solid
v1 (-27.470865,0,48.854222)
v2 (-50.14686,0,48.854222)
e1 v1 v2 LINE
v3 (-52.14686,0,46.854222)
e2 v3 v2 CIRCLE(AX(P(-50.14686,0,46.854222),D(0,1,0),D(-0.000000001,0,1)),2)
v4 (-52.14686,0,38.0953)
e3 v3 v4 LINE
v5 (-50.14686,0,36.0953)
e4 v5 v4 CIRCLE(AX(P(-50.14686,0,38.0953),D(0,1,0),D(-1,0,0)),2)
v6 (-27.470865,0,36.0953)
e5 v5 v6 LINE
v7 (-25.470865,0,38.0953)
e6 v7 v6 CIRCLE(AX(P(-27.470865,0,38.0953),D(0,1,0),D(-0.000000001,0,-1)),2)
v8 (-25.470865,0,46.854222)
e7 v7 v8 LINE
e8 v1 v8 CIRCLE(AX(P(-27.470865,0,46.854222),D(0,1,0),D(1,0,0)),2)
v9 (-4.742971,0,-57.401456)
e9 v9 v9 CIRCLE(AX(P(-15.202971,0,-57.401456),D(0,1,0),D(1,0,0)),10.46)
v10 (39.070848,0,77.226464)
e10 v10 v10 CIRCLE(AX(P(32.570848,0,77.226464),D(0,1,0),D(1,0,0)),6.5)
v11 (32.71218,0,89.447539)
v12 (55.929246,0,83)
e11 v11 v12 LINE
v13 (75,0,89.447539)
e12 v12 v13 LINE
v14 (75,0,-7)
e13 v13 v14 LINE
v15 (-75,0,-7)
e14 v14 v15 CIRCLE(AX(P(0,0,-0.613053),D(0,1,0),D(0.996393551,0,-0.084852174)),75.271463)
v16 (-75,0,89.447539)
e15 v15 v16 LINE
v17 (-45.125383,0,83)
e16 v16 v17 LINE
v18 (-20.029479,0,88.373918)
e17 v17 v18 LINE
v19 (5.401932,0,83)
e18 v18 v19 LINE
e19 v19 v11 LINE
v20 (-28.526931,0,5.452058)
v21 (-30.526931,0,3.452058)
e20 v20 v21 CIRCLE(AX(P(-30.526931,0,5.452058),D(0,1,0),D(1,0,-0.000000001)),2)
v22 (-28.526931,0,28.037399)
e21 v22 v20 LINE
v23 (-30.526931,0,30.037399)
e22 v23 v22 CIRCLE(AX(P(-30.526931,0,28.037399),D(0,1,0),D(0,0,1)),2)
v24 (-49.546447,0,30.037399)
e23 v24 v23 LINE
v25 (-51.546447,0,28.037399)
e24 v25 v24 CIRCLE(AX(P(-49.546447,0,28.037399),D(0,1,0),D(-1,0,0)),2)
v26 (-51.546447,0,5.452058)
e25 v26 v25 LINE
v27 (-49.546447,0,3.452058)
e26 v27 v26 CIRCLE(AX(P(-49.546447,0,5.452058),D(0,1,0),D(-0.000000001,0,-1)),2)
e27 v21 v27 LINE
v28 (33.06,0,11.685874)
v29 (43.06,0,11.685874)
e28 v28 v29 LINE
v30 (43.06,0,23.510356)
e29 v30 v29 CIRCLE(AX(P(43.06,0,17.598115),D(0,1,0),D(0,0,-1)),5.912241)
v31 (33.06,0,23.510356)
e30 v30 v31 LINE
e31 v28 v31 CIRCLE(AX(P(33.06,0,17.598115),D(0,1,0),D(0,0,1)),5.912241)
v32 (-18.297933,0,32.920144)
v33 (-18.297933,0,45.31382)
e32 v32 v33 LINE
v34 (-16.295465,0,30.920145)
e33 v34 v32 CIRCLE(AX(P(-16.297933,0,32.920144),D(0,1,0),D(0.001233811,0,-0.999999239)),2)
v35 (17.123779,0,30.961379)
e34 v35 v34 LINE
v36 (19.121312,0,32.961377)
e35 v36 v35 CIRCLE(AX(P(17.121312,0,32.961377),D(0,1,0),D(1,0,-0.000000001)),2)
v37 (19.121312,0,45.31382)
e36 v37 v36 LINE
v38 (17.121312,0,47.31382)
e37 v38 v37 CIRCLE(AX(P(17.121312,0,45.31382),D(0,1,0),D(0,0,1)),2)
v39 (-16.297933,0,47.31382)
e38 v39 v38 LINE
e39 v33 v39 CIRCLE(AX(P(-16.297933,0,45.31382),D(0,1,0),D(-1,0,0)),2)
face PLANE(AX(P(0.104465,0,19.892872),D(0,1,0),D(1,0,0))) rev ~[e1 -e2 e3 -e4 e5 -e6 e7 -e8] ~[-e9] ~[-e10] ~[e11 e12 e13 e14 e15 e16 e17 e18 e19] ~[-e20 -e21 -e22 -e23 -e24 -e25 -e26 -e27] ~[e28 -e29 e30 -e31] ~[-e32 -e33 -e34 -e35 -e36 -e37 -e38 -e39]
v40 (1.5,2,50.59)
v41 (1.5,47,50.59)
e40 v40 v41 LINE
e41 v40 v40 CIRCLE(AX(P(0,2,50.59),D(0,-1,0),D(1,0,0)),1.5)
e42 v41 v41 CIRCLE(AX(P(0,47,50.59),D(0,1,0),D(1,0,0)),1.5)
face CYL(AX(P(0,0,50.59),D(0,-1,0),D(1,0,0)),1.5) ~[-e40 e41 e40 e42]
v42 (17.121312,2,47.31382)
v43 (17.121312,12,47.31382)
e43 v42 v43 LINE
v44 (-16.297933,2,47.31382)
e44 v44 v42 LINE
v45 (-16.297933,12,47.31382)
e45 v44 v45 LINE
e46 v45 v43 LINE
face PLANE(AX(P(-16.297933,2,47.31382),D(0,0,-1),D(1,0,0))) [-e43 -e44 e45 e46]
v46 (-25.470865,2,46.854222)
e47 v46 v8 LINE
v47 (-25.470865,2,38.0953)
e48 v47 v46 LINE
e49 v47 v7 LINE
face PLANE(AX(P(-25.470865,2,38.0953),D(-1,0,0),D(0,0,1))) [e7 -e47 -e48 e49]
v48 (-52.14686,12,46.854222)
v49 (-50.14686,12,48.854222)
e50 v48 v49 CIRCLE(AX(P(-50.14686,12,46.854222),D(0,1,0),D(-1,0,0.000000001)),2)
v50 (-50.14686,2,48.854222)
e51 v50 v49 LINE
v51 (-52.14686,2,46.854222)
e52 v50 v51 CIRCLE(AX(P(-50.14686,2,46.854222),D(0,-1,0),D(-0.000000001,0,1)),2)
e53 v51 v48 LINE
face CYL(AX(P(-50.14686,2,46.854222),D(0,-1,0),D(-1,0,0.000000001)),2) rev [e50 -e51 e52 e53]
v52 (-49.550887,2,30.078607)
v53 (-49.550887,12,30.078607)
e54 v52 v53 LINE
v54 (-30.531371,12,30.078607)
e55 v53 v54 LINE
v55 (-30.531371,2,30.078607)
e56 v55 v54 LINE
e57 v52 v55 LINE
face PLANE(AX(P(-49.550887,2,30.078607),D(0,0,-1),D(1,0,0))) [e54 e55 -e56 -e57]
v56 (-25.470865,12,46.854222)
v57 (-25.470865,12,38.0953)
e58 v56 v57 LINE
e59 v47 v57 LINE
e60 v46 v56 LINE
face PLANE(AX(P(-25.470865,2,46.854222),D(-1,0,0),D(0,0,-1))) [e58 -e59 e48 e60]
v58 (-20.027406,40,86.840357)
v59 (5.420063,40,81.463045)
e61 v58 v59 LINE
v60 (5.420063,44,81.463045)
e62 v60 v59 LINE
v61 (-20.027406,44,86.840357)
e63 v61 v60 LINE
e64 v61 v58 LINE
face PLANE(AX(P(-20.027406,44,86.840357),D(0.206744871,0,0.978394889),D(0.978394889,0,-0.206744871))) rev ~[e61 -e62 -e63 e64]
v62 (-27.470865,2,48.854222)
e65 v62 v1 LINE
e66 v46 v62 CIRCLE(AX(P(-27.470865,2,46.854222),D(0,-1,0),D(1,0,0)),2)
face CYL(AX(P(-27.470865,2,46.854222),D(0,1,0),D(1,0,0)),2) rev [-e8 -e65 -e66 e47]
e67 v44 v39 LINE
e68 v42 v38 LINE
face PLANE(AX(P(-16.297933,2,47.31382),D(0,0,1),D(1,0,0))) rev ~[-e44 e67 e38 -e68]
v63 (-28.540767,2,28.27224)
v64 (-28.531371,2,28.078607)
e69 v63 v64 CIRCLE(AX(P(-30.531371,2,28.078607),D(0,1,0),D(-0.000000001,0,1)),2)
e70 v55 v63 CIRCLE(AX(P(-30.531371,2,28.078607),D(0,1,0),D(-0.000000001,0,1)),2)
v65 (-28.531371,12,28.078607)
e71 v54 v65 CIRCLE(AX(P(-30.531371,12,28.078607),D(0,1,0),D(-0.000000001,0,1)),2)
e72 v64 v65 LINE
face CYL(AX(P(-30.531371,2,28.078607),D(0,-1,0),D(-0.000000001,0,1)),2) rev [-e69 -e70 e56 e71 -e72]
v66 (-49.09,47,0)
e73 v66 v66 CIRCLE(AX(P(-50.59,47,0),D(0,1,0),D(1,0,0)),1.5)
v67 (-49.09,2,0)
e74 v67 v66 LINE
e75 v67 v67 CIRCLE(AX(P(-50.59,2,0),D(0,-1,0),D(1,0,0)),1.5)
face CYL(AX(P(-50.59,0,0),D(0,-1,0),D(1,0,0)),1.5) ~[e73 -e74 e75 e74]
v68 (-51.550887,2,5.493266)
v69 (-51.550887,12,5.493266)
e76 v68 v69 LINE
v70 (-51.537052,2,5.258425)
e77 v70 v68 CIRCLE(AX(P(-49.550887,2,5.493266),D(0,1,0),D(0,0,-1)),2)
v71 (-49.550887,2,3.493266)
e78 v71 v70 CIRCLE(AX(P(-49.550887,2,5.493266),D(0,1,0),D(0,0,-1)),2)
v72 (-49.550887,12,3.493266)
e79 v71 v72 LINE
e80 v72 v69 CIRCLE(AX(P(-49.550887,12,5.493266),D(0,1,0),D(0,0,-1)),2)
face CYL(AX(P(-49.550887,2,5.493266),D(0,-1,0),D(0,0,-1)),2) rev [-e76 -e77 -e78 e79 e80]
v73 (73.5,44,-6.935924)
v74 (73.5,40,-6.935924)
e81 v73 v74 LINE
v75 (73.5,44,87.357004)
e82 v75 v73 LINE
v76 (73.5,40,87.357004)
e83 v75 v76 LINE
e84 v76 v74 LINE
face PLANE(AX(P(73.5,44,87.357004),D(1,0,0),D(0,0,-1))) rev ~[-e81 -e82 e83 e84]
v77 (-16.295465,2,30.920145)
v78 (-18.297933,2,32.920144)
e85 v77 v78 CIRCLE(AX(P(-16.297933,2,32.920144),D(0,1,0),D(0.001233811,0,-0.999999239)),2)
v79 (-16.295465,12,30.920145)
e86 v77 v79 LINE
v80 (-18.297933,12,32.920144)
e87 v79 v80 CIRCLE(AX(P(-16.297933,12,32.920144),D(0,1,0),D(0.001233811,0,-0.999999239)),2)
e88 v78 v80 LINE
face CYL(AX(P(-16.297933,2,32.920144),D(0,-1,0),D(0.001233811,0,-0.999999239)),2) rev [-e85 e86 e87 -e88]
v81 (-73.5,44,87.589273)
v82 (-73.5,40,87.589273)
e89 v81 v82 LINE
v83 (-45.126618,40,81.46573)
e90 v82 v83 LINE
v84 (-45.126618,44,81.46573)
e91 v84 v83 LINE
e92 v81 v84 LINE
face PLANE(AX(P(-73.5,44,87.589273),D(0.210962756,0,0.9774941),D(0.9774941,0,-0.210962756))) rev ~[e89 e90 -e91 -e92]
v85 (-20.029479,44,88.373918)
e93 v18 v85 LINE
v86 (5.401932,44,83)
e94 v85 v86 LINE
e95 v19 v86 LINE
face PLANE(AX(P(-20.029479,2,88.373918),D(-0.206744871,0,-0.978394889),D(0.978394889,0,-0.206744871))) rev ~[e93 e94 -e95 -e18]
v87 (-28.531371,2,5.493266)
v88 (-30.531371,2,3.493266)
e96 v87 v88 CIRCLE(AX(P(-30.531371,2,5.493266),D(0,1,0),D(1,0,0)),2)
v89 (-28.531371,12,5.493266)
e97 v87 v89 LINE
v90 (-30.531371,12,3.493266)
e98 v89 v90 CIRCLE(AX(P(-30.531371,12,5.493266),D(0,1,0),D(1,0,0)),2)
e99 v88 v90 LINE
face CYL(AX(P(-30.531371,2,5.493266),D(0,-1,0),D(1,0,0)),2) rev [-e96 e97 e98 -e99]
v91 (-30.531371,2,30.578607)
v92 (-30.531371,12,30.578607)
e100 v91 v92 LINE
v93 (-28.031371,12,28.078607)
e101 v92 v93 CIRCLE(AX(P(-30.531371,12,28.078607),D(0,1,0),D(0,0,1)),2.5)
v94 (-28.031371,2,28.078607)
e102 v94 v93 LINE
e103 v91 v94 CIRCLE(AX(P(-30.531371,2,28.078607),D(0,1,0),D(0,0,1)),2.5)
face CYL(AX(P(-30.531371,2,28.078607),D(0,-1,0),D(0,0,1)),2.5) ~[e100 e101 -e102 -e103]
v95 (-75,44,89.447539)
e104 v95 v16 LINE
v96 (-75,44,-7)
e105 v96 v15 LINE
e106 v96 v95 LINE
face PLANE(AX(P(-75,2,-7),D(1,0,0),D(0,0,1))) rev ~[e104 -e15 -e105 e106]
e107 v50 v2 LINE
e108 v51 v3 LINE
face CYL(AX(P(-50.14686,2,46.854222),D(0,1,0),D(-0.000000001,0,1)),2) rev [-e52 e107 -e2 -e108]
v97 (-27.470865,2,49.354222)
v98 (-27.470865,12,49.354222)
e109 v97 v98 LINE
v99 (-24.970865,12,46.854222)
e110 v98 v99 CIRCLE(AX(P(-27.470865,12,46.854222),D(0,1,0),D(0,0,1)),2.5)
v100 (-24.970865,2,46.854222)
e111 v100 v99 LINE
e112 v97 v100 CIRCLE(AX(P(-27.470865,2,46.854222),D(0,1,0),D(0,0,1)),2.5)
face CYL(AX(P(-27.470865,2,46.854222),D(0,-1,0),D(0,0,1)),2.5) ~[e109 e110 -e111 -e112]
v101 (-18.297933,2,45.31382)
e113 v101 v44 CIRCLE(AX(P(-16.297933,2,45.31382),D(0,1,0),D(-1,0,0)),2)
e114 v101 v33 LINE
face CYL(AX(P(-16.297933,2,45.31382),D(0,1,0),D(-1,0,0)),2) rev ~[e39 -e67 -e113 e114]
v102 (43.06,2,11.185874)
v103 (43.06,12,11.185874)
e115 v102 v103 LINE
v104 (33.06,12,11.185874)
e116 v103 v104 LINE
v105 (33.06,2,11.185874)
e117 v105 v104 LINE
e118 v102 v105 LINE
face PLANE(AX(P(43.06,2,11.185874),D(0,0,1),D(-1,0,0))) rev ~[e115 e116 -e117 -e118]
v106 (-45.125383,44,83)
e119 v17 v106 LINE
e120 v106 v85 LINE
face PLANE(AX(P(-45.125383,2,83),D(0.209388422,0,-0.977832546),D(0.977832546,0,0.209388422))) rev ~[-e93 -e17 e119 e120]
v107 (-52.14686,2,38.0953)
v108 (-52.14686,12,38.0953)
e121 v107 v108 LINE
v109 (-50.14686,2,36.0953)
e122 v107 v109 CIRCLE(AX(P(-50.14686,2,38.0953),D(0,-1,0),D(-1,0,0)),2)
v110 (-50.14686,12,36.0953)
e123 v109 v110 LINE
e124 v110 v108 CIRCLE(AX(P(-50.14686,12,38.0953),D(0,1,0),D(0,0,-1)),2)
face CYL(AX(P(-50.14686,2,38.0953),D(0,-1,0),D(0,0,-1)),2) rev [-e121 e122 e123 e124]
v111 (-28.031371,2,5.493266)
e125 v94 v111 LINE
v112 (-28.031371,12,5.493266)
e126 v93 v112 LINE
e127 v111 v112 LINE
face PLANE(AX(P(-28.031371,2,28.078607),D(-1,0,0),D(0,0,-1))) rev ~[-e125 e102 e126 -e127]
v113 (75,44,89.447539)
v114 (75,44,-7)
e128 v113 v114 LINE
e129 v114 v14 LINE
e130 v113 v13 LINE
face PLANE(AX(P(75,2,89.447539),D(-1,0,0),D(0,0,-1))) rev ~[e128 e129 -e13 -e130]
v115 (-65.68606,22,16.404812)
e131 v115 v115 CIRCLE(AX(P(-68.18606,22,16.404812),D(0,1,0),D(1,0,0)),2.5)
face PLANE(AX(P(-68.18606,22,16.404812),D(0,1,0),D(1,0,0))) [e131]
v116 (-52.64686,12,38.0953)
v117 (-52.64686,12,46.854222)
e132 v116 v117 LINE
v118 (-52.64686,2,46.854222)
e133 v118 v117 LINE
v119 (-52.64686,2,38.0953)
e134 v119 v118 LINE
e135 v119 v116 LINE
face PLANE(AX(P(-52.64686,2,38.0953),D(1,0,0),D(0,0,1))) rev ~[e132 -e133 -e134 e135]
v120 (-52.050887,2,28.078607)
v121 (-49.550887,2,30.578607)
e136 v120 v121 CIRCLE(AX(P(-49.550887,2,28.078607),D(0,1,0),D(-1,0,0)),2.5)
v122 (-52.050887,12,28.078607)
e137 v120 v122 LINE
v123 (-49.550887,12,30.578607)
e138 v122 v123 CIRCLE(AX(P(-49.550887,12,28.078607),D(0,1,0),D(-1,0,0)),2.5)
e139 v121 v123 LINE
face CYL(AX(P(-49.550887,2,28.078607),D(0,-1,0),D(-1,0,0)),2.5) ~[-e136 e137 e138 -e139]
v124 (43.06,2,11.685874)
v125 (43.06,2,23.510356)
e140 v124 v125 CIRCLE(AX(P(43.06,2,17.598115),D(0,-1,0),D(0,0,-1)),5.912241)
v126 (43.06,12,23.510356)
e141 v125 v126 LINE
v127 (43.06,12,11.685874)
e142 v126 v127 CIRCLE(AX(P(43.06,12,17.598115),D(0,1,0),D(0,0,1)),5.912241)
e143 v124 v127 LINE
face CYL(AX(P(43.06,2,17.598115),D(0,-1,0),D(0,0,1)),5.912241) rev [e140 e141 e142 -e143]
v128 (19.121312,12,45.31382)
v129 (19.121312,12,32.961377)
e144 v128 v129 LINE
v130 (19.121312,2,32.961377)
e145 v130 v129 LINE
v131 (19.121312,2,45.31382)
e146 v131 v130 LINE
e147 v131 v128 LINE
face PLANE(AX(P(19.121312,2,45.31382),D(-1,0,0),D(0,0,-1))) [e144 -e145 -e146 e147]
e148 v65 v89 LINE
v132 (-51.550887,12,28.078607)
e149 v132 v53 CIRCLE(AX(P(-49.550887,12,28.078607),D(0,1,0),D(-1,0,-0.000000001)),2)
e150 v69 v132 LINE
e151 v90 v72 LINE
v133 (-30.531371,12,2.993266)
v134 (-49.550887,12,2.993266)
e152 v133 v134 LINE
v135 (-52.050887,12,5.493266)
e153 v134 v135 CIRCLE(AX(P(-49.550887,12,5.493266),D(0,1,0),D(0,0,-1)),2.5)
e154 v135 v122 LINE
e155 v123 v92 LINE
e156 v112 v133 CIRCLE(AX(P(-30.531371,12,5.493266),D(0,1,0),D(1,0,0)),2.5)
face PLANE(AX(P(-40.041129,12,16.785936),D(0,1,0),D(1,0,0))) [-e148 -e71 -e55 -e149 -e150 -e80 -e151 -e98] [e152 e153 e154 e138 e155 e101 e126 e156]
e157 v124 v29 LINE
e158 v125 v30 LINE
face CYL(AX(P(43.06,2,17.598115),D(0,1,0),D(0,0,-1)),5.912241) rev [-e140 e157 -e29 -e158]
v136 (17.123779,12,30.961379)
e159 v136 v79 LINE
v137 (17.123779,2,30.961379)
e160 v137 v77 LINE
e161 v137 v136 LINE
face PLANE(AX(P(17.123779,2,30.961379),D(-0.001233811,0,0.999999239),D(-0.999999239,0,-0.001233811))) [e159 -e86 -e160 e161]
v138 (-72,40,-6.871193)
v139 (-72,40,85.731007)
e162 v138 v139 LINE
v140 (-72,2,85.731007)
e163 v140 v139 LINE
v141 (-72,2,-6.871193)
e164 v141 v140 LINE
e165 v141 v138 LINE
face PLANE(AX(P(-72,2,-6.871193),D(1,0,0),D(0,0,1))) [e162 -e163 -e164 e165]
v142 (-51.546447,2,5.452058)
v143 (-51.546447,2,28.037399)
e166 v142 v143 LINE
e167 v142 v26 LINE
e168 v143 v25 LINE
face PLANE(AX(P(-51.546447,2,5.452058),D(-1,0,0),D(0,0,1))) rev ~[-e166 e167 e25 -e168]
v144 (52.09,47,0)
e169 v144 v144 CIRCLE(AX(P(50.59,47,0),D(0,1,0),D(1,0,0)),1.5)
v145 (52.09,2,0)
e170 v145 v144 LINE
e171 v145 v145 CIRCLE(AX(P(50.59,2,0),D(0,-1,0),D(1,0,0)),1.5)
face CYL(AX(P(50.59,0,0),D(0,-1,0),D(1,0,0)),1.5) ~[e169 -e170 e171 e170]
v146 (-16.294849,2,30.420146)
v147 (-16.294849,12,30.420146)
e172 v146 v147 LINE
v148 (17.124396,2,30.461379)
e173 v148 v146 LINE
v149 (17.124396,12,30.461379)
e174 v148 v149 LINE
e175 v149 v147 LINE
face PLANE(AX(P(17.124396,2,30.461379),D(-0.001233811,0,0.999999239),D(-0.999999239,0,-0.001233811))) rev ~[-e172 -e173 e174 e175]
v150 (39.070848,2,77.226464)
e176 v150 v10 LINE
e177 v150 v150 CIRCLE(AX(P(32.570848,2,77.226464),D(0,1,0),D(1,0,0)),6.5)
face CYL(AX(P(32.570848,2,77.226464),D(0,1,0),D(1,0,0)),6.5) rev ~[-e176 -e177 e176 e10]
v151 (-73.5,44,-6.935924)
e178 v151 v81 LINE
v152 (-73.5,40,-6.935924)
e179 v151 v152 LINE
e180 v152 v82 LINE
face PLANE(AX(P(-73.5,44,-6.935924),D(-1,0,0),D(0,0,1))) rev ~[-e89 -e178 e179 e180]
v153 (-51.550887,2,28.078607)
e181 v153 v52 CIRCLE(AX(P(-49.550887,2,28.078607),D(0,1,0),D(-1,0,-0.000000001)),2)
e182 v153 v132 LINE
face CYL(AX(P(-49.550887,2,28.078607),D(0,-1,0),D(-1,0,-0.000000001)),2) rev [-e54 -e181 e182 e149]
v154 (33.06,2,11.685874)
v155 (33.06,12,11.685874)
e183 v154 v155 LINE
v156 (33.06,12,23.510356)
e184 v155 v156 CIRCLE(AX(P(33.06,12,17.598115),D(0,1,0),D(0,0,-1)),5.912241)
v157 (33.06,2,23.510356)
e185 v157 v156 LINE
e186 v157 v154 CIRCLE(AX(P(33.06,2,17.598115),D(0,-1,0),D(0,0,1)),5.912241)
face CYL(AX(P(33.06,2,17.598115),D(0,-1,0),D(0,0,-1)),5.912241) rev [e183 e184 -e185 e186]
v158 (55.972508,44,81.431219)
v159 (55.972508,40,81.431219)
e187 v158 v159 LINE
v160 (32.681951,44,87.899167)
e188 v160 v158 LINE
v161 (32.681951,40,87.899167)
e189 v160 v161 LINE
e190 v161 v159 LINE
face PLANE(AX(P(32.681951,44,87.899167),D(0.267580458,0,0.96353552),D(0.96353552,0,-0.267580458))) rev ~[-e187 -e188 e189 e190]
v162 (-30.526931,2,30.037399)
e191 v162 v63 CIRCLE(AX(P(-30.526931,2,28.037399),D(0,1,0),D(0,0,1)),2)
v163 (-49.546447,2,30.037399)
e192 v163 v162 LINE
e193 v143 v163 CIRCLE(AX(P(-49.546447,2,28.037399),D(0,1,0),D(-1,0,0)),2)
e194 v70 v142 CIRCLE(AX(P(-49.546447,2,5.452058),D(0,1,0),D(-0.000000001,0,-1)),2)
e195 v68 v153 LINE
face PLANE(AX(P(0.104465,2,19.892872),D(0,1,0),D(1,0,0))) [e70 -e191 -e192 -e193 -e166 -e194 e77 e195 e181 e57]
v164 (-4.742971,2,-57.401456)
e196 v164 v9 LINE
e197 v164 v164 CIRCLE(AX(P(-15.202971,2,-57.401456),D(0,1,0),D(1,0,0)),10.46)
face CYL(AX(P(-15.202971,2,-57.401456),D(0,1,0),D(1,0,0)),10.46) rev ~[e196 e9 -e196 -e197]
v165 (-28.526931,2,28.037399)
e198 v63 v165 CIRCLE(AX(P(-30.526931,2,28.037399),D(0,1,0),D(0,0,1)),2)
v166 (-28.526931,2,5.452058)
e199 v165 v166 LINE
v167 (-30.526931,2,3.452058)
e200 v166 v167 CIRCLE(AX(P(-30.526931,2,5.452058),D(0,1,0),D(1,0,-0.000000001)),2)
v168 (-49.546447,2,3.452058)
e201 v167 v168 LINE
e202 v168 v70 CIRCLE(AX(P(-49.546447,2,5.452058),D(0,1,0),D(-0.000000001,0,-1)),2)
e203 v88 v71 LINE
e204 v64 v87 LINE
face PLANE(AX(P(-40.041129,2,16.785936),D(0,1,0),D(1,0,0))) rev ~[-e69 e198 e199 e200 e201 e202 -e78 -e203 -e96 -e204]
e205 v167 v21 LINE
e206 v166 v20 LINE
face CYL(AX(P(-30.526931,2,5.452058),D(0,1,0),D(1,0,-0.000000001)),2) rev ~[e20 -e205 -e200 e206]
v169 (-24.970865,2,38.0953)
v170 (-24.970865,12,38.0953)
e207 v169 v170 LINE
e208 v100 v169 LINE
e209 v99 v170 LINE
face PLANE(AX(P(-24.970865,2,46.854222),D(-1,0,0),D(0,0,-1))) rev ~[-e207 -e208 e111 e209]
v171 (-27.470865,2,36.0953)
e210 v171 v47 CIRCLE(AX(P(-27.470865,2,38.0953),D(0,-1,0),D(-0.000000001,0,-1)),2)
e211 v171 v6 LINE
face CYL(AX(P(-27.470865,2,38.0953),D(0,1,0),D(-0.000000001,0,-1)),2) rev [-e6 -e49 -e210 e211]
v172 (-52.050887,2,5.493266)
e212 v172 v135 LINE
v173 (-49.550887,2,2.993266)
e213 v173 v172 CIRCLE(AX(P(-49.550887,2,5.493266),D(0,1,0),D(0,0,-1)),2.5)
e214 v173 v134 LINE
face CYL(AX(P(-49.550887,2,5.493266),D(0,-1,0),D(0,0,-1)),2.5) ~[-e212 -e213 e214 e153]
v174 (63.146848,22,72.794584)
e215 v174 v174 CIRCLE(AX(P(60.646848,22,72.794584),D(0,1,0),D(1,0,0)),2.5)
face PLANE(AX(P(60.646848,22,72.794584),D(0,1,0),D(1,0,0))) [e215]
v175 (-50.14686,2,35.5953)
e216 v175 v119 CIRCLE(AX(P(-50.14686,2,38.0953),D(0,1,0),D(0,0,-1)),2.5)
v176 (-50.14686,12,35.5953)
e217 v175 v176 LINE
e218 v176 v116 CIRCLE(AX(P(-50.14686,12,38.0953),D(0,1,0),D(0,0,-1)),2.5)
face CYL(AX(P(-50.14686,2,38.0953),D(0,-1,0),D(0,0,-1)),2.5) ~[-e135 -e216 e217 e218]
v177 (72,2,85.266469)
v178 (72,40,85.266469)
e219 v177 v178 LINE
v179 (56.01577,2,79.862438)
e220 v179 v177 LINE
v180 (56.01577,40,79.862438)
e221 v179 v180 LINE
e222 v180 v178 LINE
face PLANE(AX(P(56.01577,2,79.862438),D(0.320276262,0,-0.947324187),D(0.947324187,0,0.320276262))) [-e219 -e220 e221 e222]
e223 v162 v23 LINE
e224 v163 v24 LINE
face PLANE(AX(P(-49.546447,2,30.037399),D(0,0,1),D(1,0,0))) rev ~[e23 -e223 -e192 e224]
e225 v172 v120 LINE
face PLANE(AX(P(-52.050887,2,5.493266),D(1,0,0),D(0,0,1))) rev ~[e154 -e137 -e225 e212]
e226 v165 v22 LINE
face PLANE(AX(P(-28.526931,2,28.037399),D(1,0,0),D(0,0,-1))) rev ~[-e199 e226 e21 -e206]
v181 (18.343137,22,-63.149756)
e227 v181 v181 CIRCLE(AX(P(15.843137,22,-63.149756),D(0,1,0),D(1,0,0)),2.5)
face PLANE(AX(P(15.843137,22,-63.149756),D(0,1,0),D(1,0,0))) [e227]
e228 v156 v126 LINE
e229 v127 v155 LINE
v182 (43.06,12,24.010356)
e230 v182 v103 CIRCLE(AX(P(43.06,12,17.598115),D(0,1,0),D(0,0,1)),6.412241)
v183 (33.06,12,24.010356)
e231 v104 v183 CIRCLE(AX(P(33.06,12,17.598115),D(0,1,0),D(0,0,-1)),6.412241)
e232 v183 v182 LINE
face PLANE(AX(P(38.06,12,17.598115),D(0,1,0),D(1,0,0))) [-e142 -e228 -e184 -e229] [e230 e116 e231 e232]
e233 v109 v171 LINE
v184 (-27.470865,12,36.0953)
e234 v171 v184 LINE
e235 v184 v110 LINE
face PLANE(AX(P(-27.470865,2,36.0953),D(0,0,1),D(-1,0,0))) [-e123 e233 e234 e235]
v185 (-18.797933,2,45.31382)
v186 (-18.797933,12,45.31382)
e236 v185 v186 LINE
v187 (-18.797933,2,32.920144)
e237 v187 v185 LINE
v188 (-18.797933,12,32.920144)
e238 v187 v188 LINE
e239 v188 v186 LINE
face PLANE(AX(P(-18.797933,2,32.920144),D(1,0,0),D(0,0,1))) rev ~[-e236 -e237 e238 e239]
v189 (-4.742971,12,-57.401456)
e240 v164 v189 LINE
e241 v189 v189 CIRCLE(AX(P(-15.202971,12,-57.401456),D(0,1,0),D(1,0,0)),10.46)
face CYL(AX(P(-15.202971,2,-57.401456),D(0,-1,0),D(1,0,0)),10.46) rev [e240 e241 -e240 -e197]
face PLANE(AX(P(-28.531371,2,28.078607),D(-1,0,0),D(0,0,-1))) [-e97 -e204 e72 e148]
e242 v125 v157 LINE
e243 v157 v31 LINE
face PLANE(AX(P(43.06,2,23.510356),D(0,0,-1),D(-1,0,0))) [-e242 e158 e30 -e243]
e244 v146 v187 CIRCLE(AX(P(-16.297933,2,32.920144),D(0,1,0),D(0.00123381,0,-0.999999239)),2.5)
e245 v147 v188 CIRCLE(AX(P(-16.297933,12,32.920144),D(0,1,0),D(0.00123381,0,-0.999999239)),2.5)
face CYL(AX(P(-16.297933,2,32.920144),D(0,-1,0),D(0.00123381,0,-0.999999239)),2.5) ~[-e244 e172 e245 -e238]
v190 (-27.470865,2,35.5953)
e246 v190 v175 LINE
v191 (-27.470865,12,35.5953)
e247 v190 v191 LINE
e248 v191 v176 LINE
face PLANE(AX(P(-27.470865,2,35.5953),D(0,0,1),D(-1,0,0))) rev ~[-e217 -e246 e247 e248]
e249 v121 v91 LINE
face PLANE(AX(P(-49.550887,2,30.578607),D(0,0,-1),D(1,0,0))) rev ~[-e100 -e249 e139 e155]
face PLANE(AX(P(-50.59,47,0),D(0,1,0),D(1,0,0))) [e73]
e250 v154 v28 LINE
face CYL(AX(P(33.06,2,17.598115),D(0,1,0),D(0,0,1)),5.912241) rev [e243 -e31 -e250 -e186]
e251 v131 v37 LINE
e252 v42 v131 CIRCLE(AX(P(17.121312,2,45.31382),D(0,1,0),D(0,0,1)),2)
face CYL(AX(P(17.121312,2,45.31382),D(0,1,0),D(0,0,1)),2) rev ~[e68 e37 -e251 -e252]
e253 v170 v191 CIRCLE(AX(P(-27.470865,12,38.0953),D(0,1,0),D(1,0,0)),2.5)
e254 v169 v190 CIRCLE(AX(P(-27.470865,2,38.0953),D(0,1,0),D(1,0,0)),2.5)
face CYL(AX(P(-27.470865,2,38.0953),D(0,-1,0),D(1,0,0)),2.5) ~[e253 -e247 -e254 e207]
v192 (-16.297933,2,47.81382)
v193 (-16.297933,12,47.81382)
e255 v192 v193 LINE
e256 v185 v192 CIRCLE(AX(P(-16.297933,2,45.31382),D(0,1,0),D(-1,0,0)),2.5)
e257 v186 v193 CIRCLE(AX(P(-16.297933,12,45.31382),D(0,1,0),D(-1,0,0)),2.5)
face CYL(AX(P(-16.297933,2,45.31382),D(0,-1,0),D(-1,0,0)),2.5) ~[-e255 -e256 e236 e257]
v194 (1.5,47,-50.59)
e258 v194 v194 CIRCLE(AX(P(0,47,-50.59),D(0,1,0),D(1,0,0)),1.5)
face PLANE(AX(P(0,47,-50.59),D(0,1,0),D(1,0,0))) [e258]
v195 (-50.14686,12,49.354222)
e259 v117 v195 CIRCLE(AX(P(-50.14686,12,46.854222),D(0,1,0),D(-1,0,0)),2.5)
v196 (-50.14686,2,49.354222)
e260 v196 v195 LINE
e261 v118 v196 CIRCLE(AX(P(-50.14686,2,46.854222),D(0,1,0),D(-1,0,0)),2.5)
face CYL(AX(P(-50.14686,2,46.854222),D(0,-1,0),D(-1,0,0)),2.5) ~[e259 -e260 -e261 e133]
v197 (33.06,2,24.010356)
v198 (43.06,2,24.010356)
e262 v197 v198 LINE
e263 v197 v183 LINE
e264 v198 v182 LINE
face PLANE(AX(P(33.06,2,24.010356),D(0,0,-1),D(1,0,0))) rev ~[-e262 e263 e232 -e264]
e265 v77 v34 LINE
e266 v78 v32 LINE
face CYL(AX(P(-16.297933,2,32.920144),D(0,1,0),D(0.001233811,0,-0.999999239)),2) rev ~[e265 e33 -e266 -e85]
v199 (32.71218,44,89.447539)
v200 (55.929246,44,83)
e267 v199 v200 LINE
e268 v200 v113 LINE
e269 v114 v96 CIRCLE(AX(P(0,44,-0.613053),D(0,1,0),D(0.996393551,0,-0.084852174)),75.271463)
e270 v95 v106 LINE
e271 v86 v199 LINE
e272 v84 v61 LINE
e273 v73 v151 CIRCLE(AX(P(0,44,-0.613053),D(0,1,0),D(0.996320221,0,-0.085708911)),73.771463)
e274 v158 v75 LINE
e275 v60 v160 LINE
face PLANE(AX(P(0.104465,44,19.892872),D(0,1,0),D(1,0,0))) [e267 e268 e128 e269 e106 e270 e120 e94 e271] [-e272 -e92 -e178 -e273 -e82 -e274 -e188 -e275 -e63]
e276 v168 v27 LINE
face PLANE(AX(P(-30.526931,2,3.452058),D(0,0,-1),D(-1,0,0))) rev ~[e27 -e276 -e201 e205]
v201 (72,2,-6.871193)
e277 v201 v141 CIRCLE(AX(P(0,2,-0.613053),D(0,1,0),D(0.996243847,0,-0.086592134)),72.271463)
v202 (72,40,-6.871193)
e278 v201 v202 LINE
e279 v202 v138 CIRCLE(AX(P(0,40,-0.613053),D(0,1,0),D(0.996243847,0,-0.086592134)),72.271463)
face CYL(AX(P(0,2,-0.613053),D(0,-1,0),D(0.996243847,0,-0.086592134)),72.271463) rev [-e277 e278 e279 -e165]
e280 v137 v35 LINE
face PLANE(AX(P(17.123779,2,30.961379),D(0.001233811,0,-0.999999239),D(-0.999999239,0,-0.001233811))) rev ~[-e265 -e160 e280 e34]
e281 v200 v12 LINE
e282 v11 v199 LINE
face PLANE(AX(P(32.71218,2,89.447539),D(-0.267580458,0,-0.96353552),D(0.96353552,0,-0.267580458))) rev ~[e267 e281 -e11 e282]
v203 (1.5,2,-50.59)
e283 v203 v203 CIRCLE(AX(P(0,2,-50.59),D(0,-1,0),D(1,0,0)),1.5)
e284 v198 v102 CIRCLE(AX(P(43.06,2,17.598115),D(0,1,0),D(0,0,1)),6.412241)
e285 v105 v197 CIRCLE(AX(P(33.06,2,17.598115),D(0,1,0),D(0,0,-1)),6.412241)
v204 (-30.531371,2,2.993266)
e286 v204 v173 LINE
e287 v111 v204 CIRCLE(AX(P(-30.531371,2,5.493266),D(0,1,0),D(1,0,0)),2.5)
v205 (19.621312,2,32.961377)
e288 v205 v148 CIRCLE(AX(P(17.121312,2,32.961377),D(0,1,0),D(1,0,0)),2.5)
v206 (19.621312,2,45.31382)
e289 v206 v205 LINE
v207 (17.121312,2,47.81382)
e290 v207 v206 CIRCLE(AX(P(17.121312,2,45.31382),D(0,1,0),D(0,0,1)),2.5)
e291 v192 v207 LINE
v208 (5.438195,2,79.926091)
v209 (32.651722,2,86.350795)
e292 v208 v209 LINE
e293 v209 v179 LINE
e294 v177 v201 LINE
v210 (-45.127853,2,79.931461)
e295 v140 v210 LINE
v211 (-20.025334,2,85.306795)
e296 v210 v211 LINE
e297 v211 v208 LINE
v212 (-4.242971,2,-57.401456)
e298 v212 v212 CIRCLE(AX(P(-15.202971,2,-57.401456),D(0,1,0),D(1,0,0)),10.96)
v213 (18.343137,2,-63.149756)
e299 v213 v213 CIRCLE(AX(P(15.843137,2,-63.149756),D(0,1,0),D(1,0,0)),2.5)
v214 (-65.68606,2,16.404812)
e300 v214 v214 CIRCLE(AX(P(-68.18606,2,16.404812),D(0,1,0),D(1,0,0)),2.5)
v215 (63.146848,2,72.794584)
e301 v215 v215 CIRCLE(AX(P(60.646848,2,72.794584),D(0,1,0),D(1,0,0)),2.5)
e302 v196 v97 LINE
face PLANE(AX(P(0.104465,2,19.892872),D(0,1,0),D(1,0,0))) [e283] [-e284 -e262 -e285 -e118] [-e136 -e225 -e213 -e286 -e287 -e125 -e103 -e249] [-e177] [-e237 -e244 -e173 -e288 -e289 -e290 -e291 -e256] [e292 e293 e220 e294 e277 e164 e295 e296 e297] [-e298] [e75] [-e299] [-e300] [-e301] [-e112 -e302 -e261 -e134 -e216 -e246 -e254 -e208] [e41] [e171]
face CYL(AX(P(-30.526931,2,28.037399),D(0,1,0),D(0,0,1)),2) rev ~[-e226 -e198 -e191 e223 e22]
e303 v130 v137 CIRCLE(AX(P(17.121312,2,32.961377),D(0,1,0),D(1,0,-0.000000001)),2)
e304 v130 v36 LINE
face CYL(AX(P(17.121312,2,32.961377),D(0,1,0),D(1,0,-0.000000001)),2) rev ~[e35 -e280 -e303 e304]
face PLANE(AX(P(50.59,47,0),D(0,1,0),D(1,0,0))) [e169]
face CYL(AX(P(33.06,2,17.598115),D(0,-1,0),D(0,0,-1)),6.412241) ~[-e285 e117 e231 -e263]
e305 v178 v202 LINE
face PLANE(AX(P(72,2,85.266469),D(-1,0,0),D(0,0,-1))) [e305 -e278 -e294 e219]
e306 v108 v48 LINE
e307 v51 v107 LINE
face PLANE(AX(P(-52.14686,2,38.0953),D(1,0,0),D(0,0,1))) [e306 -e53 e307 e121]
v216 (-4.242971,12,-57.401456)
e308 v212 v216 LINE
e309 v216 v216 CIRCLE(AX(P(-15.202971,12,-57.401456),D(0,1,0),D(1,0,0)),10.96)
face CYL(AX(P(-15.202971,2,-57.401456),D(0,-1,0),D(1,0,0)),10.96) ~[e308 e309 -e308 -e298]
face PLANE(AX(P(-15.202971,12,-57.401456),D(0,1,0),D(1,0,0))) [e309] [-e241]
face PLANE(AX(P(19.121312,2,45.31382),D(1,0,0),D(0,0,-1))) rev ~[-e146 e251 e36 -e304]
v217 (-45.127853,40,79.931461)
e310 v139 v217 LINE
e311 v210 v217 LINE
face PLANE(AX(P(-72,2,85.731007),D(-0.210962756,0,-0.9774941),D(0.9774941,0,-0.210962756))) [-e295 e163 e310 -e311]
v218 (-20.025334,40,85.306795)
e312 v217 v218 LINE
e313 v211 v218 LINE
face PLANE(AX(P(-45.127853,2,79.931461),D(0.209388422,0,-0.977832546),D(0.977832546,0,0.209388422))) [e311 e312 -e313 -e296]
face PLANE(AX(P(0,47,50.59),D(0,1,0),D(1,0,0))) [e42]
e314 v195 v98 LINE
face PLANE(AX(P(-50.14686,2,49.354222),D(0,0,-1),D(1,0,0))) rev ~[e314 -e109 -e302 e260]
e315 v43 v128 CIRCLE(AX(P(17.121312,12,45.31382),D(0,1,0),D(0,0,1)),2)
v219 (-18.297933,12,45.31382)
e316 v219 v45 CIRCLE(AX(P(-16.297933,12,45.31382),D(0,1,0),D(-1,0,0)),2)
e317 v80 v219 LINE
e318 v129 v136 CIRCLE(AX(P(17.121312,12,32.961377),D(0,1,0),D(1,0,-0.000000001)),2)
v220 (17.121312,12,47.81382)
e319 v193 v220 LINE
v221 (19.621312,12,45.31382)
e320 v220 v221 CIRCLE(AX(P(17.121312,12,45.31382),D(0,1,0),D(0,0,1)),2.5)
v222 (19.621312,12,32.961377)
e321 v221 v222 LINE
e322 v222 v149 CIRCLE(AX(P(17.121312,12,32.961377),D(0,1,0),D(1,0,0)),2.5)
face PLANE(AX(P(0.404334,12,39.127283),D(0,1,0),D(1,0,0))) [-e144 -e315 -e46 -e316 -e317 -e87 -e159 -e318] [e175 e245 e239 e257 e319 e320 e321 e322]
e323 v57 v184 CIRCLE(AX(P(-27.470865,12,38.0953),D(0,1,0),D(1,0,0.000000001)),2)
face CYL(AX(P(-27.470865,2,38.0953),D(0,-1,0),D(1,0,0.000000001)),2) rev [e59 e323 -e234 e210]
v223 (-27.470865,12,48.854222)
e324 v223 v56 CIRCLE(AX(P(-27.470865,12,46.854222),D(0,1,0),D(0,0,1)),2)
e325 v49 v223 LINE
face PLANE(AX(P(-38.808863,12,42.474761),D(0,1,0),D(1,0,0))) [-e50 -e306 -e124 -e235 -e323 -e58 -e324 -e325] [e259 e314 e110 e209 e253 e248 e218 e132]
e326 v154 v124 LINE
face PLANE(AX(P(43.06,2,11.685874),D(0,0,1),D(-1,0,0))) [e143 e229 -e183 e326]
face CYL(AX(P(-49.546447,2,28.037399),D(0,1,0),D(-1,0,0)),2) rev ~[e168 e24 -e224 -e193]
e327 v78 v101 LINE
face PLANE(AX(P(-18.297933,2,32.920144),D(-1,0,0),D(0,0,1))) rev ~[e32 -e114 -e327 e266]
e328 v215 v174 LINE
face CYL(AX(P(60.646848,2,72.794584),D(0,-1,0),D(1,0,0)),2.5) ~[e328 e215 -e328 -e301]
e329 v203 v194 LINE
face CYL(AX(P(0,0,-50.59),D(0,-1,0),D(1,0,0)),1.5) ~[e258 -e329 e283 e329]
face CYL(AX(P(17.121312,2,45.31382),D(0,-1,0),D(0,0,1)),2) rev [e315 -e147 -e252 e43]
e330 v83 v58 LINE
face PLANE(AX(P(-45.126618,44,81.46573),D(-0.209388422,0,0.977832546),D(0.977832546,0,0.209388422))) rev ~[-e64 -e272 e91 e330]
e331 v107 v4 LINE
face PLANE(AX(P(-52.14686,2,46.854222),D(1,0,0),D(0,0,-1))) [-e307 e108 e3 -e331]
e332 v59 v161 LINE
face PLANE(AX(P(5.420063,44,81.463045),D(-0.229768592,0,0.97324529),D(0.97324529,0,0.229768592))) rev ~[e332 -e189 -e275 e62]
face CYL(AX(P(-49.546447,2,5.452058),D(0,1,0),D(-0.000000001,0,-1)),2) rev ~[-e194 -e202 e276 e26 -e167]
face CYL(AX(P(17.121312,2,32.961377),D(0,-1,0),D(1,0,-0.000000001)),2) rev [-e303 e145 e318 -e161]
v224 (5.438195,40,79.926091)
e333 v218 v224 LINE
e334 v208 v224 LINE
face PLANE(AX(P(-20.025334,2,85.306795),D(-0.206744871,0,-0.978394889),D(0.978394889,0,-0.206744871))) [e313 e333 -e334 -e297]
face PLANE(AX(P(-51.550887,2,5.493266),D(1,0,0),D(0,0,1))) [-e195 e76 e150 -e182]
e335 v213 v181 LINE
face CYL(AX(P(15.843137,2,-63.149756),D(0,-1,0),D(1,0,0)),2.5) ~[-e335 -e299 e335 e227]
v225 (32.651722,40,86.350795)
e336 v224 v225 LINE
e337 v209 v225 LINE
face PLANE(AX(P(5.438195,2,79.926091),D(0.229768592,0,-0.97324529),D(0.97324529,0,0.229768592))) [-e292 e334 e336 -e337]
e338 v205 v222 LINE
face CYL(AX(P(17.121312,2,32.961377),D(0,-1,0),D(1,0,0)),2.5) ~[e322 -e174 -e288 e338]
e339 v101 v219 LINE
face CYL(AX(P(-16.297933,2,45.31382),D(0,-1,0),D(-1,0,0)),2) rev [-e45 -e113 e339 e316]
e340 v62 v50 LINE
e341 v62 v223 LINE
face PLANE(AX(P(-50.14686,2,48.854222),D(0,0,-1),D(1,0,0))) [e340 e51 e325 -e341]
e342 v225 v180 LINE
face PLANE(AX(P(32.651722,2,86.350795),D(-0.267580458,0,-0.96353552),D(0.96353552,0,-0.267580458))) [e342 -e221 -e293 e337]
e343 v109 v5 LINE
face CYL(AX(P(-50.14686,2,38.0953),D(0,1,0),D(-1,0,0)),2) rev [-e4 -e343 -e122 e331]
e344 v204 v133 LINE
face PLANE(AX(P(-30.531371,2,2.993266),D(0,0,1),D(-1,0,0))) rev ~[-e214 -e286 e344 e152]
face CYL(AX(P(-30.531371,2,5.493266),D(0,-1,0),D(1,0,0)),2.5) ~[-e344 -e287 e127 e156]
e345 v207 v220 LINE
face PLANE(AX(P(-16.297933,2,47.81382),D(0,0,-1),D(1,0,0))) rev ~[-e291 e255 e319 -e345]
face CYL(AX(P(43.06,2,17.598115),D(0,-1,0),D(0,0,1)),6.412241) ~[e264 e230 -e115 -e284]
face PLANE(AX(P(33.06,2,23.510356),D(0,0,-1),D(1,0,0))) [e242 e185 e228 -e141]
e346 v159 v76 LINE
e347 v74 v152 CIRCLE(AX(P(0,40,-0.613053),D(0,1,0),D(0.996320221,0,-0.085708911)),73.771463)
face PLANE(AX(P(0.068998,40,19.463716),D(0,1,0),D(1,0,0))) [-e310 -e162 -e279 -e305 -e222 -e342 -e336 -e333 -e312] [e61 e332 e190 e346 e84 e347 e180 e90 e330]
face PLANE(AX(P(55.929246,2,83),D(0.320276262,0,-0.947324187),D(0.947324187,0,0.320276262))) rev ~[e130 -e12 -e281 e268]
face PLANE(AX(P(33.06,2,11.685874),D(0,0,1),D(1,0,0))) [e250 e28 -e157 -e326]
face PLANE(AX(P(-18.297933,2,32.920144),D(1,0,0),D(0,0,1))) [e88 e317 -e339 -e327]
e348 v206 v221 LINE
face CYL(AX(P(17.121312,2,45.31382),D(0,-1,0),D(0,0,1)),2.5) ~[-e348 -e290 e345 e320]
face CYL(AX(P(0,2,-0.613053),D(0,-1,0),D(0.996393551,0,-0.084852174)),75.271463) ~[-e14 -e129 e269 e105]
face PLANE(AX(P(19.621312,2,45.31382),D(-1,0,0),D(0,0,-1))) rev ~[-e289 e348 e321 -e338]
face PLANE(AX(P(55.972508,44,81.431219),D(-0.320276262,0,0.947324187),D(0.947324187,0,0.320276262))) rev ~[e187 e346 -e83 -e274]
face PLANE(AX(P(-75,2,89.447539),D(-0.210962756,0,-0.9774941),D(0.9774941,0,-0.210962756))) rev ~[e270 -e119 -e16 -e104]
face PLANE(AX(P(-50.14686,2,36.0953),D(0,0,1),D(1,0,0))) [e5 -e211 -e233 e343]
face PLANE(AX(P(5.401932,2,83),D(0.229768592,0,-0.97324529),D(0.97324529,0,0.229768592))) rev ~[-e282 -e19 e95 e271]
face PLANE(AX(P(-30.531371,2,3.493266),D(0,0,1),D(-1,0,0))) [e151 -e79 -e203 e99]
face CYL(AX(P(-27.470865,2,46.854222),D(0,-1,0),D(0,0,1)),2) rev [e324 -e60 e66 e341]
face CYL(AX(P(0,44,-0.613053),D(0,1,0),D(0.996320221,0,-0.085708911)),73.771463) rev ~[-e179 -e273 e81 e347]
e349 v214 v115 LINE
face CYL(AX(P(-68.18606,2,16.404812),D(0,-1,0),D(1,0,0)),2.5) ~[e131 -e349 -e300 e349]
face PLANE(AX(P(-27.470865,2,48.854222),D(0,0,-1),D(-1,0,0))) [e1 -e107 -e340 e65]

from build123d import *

# Parameters (mm, degrees)
SKETCH2_R             = 1.5
BOSS_EXTRUDE1_DEPTH   = 47
BOSS_EXTRUDE1_2_DEPTH = 47
BOSS_EXTRUDE1_3_DEPTH = 47
BOSS_EXTRUDE1_4_DEPTH = 47
BOSS_EXTRUDE3_DEPTH   = 2
SKETCH4_R             = 10.46
CUT_EXTRUDE1_DEPTH    = 3
BOSS_EXTRUDE4_DEPTH   = 42
SKETCH6_R             = 2.5
BOSS_EXTRUDE5_DEPTH   = 20
CUT_EXTRUDE3_DEPTH    = 4
SKETCH9_R             = 6.5
CUT_EXTRUDE4_DEPTH    = 3
SKETCH11_R            = 10.96
SKETCH11_R_2          = 10.46
BOSS_EXTRUDE9_DEPTH   = 10


with BuildPart() as part:
    # Sketch2 → Boss-Extrude1 (new body)
    with BuildSketch(Plane(origin=(0, 0, 0), x_dir=(1, 0, 0), z_dir=(0, 1, 0))):
        with Locations((0, 50.59)):
            Circle(SKETCH2_R)
    extrude(amount=BOSS_EXTRUDE1_DEPTH)



with BuildPart() as body_2:
    # Sketch2 → Boss-Extrude1 2 (new body)
    with BuildSketch(Plane(origin=(0, 0, 0), x_dir=(1, 0, 0), z_dir=(0, 1, 0))):
        with Locations((0, -50.59)):
            Circle(SKETCH2_R)
    extrude(amount=BOSS_EXTRUDE1_2_DEPTH)


with BuildPart() as body_3:
    # Sketch2 → Boss-Extrude1 3 (new body)
    with BuildSketch(Plane(origin=(0, 0, 0), x_dir=(1, 0, 0), z_dir=(0, 1, 0))):
        with Locations((-50.59, 0)):
            Circle(SKETCH2_R)
    extrude(amount=BOSS_EXTRUDE1_3_DEPTH)


with BuildPart() as body_4:
    # Sketch2 → Boss-Extrude1 4 (new body)
    with BuildSketch(Plane(origin=(0, 0, 0), x_dir=(1, 0, 0), z_dir=(0, 1, 0))):
        with Locations((50.59, 0)):
            Circle(SKETCH2_R)
    extrude(amount=BOSS_EXTRUDE1_4_DEPTH)


with BuildPart() as part_1:
    add(part.part)

    add(body_2.part)  # Boss-Extrude3 merges body 2

    add(body_3.part)  # Boss-Extrude3 merges body 3

    add(body_4.part)  # Boss-Extrude3 merges body 4
    # Sketch3 → Boss-Extrude3 (add)
    with BuildSketch(Plane(origin=(0, 0, 0), x_dir=(1, 0, 0), z_dir=(0, 1, 0))):
        with BuildLine():
            Line((-75, -83), (-75, -89.4475393))
            Line((-75, -89.4475393), (-45.125382539, -83))
            Line((-45.125382539, -83), (-20.02947887, -88.373917753))
            Line((-20.02947887, -88.373917753), (5.401931533, -83))
            Line((5.401931533, -83), (32.712179644, -89.4475393))
            Line((32.712179644, -89.4475393), (55.929245606, -83))
            Line((55.929245606, -83), (75, -89.4475393))
            Line((75, -89.4475393), (75, -83))
            Line((75, -83), (75, 7))
            ThreePointArc((75, 7), (0, 75.884515459), (-75, 7))
            Line((-75, 7), (-75, -83))
        make_face()
    extrude(amount=BOSS_EXTRUDE3_DEPTH)

    # Sketch4 → Cut-Extrude1 (cut, through all)
    with BuildSketch(Plane(origin=(0, 2, 0), x_dir=(1, 0, 0), z_dir=(0, 1, 0))):
        with Locations((-15.202971328, 57.401455548)):
            Circle(SKETCH4_R)
        with BuildLine():
            Line((-30.526931119, -3.452057515), (-49.546447337, -3.452057515))
            ThreePointArc((-49.546447337, -3.452057515), (-50.960660899, -4.037843953), (-51.546447337, -5.452057515))
            Line((-51.546447337, -5.452057515), (-51.546447337, -28.03739889))
            ThreePointArc((-51.546447337, -28.03739889), (-50.960660899, -29.451612453), (-49.546447337, -30.03739889))
            Line((-49.546447337, -30.03739889), (-30.526931119, -30.03739889))
            ThreePointArc((-30.526931119, -30.03739889), (-29.112717557, -29.451612453), (-28.526931119, -28.03739889))
            Line((-28.526931119, -28.03739889), (-28.526931119, -21.640436784))
            Line((-28.526931119, -21.640436784), (-28.526931119, -5.452057515))
            ThreePointArc((-28.526931119, -5.452057515), (-29.112717557, -4.037843953), (-30.526931119, -3.452057515))
        make_face()
        with BuildLine():
            Line((-50.146859919, -36.095300142), (-27.470865471, -36.095300142))
            ThreePointArc((-27.470865471, -36.095300142), (-26.056651908, -36.681086579), (-25.470865471, -38.095300142))
            Line((-25.470865471, -38.095300142), (-25.470865471, -46.854222448))
            ThreePointArc((-25.470865471, -46.854222448), (-26.056651908, -48.26843601), (-27.470865471, -48.854222448))
            Line((-27.470865471, -48.854222448), (-50.146859919, -48.854222448))
            ThreePointArc((-50.146859919, -48.854222448), (-51.561073481, -48.26843601), (-52.146859919, -46.854222448))
            Line((-52.146859919, -46.854222448), (-52.146859919, -38.095300142))
            ThreePointArc((-52.146859919, -38.095300142), (-51.561073481, -36.681086579), (-50.146859919, -36.095300142))
        make_face()
        with BuildLine():
            Line((33.06, -11.685874323), (43.06, -11.685874323))
            ThreePointArc((43.06, -11.685874323), (48.972240648, -17.598114971), (43.06, -23.510355619))
            Line((43.06, -23.510355619), (33.06, -23.510355619))
            ThreePointArc((33.06, -23.510355619), (27.147759352, -17.598114971), (33.06, -11.685874323))
        make_face()
        with BuildLine():
            Line((-18.29793306, -32.920143934), (-18.29793306, -45.313819663))
            ThreePointArc((-18.29793306, -45.313819663), (-17.712146622, -46.728033226), (-16.29793306, -47.313819663))
            Line((-16.29793306, -47.313819663), (17.12131177, -47.313819663))
            ThreePointArc((17.12131177, -47.313819663), (18.535525332, -46.728033226), (19.12131177, -45.313819663))
            Line((19.12131177, -45.313819663), (19.12131177, -32.961376992))
            ThreePointArc((19.12131177, -32.961376992), (18.536397499, -31.548036135), (17.123779391, -30.961378514))
            Line((17.123779391, -30.961378514), (-16.295465438, -30.920145456))
            ThreePointArc((-16.295465438, -30.920145456), (-17.711273917, -31.505058204), (-18.29793306, -32.920143934))
        make_face()
    extrude(amount=-CUT_EXTRUDE1_DEPTH, mode=Mode.SUBTRACT)

    # Sketch5 → Boss-Extrude4 (add)
    with BuildSketch(Plane(origin=(0, 2, 0), x_dir=(1, 0, 0), z_dir=(0, 1, 0))):
        with BuildLine():
            Line((-75, -89.4475393), (-45.125382539, -83))
            Line((-45.125382539, -83), (-20.02947887, -88.373917753))
            Line((-20.02947887, -88.373917753), (5.401931533, -83))
            Line((5.401931533, -83), (32.712179644, -89.4475393))
            Line((32.712179644, -89.4475393), (55.929245606, -83))
            Line((55.929245606, -83), (75, -89.4475393))
            Line((75, -89.4475393), (75, 7))
            ThreePointArc((75, 7), (0, 75.884515459), (-75, 7))
            Line((-75, 7), (-75, -89.4475393))
        make_face()
        with BuildLine():
            Line((-72, -85.731007132), (-45.127853177, -79.93146098))
            Line((-45.127853177, -79.93146098), (-20.025334108, -85.306795323))
            Line((-20.025334108, -85.306795323), (5.438194792, -79.926090603))
            Line((5.438194792, -79.926090603), (32.651721765, -86.350795495))
            Line((32.651721765, -86.350795495), (56.015770192, -79.862438151))
            Line((56.015770192, -79.862438151), (72, -85.266469252))
            Line((72, -85.266469252), (72, 6.871192973))
            ThreePointArc((72, 6.871192973), (0, 72.884515459), (-72, 6.871192973))
            Line((-72, 6.871192973), (-72, -85.731007132))
        make_face(mode=Mode.SUBTRACT)
    extrude(amount=BOSS_EXTRUDE4_DEPTH)

    # Sketch6 → Boss-Extrude5 (add)
    with BuildSketch(Plane(origin=(0, 2, 0), x_dir=(1, 0, 0), z_dir=(0, 1, 0))):
        with Locations((60.646848442, -72.794584312)):
            Circle(SKETCH6_R)
        with Locations((-68.18605967, -16.404812448)):
            Circle(SKETCH6_R)
        with Locations((15.843137374, 63.149755735)):
            Circle(SKETCH6_R)
    extrude(amount=BOSS_EXTRUDE5_DEPTH)

    # Sketch8 → Cut-Extrude3 (cut)
    with BuildSketch(Plane(origin=(0, 44, 0), x_dir=(1, 0, 0), z_dir=(0, 1, 0))):
        with BuildLine():
            Line((-73.5, -87.589273216), (-45.126617858, -81.46573049))
            Line((-45.126617858, -81.46573049), (-20.027406489, -86.840356538))
            Line((-20.027406489, -86.840356538), (5.420063162, -81.463045301))
            Line((5.420063162, -81.463045301), (32.681950704, -87.899167398))
            Line((32.681950704, -87.899167398), (55.972507899, -81.431219076))
            Line((55.972507899, -81.431219076), (73.5, -87.357004276))
            Line((73.5, -87.357004276), (73.5, 6.935924496))
            ThreePointArc((73.5, 6.935924496), (0, 74.384515459), (-73.5, 6.935924496))
            Line((-73.5, 6.935924496), (-73.5, -87.589273216))
        make_face()
        with BuildLine():
            Line((56.015770192, -79.862438151), (72, -85.266469252))
            Line((72, -85.266469252), (72, 6.871192973))
            ThreePointArc((72, 6.871192973), (0, 72.884515459), (-72, 6.871192973))
            Line((-72, 6.871192973), (-72, -85.731007132))
            Line((-72, -85.731007132), (-45.127853177, -79.93146098))
            Line((-45.127853177, -79.93146098), (-20.025334108, -85.306795323))
            Line((-20.025334108, -85.306795323), (5.438194792, -79.926090603))
            Line((5.438194792, -79.926090603), (32.651721765, -86.350795495))
            Line((32.651721765, -86.350795495), (56.015770192, -79.862438151))
        make_face(mode=Mode.SUBTRACT)
    extrude(amount=-CUT_EXTRUDE3_DEPTH, mode=Mode.SUBTRACT)

    # Sketch9 → Cut-Extrude4 (cut, through all)
    with BuildSketch(Plane(origin=(0, 2, 0), x_dir=(1, 0, 0), z_dir=(0, 1, 0))):
        with Locations((32.570848009, -77.226464083)):
            Circle(SKETCH9_R)
    extrude(amount=-CUT_EXTRUDE4_DEPTH, mode=Mode.SUBTRACT)

    # Sketch11 → Boss-Extrude9 (add)
    with BuildSketch(Plane(origin=(0, 2, 0), x_dir=(1, 0, 0), z_dir=(0, 1, 0))):
        with Locations((-15.202971328, 57.401455548)):
            Circle(SKETCH11_R)
        with Locations((-15.202971328, 57.401455548)):
            Circle(SKETCH11_R_2, mode=Mode.SUBTRACT)
        with BuildLine():
            Line((-49.550887282, -30.578607071), (-30.531371065, -30.578607071))
            ThreePointArc((-30.531371065, -30.578607071), (-28.763604112, -29.846374024), (-28.031371065, -28.078607071))
            Line((-28.031371065, -28.078607071), (-28.031371065, -5.493265696))
            ThreePointArc((-28.031371065, -5.493265696), (-28.763604112, -3.725498743), (-30.531371065, -2.993265696))
            Line((-30.531371065, -2.993265696), (-49.550887282, -2.993265696))
            ThreePointArc((-49.550887282, -2.993265696), (-51.318654235, -3.725498743), (-52.050887282, -5.493265696))
            Line((-52.050887282, -5.493265696), (-52.050887282, -28.078607071))
            ThreePointArc((-52.050887282, -28.078607071), (-51.318654235, -29.846374024), (-49.550887282, -30.578607071))
        make_face()
        with BuildLine():
            Line((-49.550887282, -30.078607071), (-30.531371065, -30.078607071))
            ThreePointArc((-30.531371065, -30.078607071), (-29.117157502, -29.492820634), (-28.531371065, -28.078607071))
            Line((-28.531371065, -28.078607071), (-28.531371065, -5.493265696))
            ThreePointArc((-28.531371065, -5.493265696), (-29.117157502, -4.079052134), (-30.531371065, -3.493265696))
            Line((-30.531371065, -3.493265696), (-49.550887282, -3.493265696))
            ThreePointArc((-49.550887282, -3.493265696), (-50.965100845, -4.079052134), (-51.550887282, -5.493265696))
            Line((-51.550887282, -5.493265696), (-51.550887282, -28.078607071))
            ThreePointArc((-51.550887282, -28.078607071), (-50.965100845, -29.492820634), (-49.550887282, -30.078607071))
        make_face(mode=Mode.SUBTRACT)
        with BuildLine():
            Line((-50.146859919, -49.354222448), (-27.470865471, -49.354222448))
            ThreePointArc((-27.470865471, -49.354222448), (-25.703098518, -48.621989401), (-24.970865471, -46.854222448))
            Line((-24.970865471, -46.854222448), (-24.970865471, -38.095300142))
            ThreePointArc((-24.970865471, -38.095300142), (-25.703098518, -36.327533189), (-27.470865471, -35.595300142))
            Line((-27.470865471, -35.595300142), (-50.146859919, -35.595300142))
            ThreePointArc((-50.146859919, -35.595300142), (-51.914626872, -36.327533189), (-52.646859919, -38.095300142))
            Line((-52.646859919, -38.095300142), (-52.646859919, -46.854222448))
            ThreePointArc((-52.646859919, -46.854222448), (-51.914626872, -48.621989401), (-50.146859919, -49.354222448))
        make_face()
        with BuildLine():
            Line((-50.146859919, -48.854222448), (-27.470865471, -48.854222448))
            ThreePointArc((-27.470865471, -48.854222448), (-26.056651908, -48.26843601), (-25.470865471, -46.854222448))
            Line((-25.470865471, -46.854222448), (-25.470865471, -38.095300142))
            ThreePointArc((-25.470865471, -38.095300142), (-26.056651908, -36.681086579), (-27.470865471, -36.095300142))
            Line((-27.470865471, -36.095300142), (-50.146859919, -36.095300142))
            ThreePointArc((-50.146859919, -36.095300142), (-51.561073481, -36.681086579), (-52.146859919, -38.095300142))
            Line((-52.146859919, -38.095300142), (-52.146859919, -46.854222448))
            ThreePointArc((-52.146859919, -46.854222448), (-51.561073481, -48.26843601), (-50.146859919, -48.854222448))
        make_face(mode=Mode.SUBTRACT)
        with BuildLine():
            Line((-18.79793306, -32.920143934), (-18.79793306, -45.313819663))
            ThreePointArc((-18.79793306, -45.313819663), (-18.065700013, -47.081586616), (-16.29793306, -47.813819663))
            Line((-16.29793306, -47.813819663), (17.12131177, -47.813819663))
            ThreePointArc((17.12131177, -47.813819663), (18.889078723, -47.081586616), (19.62131177, -45.313819663))
            Line((19.62131177, -45.313819663), (19.62131177, -32.961376992))
            ThreePointArc((19.62131177, -32.961376992), (18.890168931, -31.19470092), (17.124396297, -30.461378895))
            Line((17.124396297, -30.461378895), (-16.294848533, -30.420145836))
            ThreePointArc((-16.294848533, -30.420145836), (-18.064609131, -31.151286772), (-18.79793306, -32.920143934))
        make_face()
        with BuildLine():
            Line((-18.29793306, -32.920143934), (-18.29793306, -45.313819663))
            ThreePointArc((-18.29793306, -45.313819663), (-17.712146622, -46.728033226), (-16.29793306, -47.313819663))
            Line((-16.29793306, -47.313819663), (17.12131177, -47.313819663))
            ThreePointArc((17.12131177, -47.313819663), (18.535525332, -46.728033226), (19.12131177, -45.313819663))
            Line((19.12131177, -45.313819663), (19.12131177, -32.961376992))
            ThreePointArc((19.12131177, -32.961376992), (18.536397499, -31.548036135), (17.123779391, -30.961378514))
            Line((17.123779391, -30.961378514), (-16.295465438, -30.920145456))
            ThreePointArc((-16.295465438, -30.920145456), (-17.711273917, -31.505058204), (-18.29793306, -32.920143934))
        make_face(mode=Mode.SUBTRACT)
        with BuildLine():
            Line((33.06, -24.010355619), (43.06, -24.010355619))
            ThreePointArc((43.06, -24.010355619), (49.472240648, -17.598114971), (43.06, -11.185874323))
            Line((43.06, -11.185874323), (33.06, -11.185874323))
            ThreePointArc((33.06, -11.185874323), (26.647759352, -17.598114971), (33.06, -24.010355619))
        make_face()
        with BuildLine():
            Line((33.06, -23.510355619), (43.06, -23.510355619))
            ThreePointArc((43.06, -23.510355619), (48.972240648, -17.598114971), (43.06, -11.685874323))
            Line((43.06, -11.685874323), (33.06, -11.685874323))
            ThreePointArc((33.06, -11.685874323), (27.147759352, -17.598114971), (33.06, -23.510355619))
        make_face(mode=Mode.SUBTRACT)
    extrude(amount=BOSS_EXTRUDE9_DEPTH)


solid = part_1.part
